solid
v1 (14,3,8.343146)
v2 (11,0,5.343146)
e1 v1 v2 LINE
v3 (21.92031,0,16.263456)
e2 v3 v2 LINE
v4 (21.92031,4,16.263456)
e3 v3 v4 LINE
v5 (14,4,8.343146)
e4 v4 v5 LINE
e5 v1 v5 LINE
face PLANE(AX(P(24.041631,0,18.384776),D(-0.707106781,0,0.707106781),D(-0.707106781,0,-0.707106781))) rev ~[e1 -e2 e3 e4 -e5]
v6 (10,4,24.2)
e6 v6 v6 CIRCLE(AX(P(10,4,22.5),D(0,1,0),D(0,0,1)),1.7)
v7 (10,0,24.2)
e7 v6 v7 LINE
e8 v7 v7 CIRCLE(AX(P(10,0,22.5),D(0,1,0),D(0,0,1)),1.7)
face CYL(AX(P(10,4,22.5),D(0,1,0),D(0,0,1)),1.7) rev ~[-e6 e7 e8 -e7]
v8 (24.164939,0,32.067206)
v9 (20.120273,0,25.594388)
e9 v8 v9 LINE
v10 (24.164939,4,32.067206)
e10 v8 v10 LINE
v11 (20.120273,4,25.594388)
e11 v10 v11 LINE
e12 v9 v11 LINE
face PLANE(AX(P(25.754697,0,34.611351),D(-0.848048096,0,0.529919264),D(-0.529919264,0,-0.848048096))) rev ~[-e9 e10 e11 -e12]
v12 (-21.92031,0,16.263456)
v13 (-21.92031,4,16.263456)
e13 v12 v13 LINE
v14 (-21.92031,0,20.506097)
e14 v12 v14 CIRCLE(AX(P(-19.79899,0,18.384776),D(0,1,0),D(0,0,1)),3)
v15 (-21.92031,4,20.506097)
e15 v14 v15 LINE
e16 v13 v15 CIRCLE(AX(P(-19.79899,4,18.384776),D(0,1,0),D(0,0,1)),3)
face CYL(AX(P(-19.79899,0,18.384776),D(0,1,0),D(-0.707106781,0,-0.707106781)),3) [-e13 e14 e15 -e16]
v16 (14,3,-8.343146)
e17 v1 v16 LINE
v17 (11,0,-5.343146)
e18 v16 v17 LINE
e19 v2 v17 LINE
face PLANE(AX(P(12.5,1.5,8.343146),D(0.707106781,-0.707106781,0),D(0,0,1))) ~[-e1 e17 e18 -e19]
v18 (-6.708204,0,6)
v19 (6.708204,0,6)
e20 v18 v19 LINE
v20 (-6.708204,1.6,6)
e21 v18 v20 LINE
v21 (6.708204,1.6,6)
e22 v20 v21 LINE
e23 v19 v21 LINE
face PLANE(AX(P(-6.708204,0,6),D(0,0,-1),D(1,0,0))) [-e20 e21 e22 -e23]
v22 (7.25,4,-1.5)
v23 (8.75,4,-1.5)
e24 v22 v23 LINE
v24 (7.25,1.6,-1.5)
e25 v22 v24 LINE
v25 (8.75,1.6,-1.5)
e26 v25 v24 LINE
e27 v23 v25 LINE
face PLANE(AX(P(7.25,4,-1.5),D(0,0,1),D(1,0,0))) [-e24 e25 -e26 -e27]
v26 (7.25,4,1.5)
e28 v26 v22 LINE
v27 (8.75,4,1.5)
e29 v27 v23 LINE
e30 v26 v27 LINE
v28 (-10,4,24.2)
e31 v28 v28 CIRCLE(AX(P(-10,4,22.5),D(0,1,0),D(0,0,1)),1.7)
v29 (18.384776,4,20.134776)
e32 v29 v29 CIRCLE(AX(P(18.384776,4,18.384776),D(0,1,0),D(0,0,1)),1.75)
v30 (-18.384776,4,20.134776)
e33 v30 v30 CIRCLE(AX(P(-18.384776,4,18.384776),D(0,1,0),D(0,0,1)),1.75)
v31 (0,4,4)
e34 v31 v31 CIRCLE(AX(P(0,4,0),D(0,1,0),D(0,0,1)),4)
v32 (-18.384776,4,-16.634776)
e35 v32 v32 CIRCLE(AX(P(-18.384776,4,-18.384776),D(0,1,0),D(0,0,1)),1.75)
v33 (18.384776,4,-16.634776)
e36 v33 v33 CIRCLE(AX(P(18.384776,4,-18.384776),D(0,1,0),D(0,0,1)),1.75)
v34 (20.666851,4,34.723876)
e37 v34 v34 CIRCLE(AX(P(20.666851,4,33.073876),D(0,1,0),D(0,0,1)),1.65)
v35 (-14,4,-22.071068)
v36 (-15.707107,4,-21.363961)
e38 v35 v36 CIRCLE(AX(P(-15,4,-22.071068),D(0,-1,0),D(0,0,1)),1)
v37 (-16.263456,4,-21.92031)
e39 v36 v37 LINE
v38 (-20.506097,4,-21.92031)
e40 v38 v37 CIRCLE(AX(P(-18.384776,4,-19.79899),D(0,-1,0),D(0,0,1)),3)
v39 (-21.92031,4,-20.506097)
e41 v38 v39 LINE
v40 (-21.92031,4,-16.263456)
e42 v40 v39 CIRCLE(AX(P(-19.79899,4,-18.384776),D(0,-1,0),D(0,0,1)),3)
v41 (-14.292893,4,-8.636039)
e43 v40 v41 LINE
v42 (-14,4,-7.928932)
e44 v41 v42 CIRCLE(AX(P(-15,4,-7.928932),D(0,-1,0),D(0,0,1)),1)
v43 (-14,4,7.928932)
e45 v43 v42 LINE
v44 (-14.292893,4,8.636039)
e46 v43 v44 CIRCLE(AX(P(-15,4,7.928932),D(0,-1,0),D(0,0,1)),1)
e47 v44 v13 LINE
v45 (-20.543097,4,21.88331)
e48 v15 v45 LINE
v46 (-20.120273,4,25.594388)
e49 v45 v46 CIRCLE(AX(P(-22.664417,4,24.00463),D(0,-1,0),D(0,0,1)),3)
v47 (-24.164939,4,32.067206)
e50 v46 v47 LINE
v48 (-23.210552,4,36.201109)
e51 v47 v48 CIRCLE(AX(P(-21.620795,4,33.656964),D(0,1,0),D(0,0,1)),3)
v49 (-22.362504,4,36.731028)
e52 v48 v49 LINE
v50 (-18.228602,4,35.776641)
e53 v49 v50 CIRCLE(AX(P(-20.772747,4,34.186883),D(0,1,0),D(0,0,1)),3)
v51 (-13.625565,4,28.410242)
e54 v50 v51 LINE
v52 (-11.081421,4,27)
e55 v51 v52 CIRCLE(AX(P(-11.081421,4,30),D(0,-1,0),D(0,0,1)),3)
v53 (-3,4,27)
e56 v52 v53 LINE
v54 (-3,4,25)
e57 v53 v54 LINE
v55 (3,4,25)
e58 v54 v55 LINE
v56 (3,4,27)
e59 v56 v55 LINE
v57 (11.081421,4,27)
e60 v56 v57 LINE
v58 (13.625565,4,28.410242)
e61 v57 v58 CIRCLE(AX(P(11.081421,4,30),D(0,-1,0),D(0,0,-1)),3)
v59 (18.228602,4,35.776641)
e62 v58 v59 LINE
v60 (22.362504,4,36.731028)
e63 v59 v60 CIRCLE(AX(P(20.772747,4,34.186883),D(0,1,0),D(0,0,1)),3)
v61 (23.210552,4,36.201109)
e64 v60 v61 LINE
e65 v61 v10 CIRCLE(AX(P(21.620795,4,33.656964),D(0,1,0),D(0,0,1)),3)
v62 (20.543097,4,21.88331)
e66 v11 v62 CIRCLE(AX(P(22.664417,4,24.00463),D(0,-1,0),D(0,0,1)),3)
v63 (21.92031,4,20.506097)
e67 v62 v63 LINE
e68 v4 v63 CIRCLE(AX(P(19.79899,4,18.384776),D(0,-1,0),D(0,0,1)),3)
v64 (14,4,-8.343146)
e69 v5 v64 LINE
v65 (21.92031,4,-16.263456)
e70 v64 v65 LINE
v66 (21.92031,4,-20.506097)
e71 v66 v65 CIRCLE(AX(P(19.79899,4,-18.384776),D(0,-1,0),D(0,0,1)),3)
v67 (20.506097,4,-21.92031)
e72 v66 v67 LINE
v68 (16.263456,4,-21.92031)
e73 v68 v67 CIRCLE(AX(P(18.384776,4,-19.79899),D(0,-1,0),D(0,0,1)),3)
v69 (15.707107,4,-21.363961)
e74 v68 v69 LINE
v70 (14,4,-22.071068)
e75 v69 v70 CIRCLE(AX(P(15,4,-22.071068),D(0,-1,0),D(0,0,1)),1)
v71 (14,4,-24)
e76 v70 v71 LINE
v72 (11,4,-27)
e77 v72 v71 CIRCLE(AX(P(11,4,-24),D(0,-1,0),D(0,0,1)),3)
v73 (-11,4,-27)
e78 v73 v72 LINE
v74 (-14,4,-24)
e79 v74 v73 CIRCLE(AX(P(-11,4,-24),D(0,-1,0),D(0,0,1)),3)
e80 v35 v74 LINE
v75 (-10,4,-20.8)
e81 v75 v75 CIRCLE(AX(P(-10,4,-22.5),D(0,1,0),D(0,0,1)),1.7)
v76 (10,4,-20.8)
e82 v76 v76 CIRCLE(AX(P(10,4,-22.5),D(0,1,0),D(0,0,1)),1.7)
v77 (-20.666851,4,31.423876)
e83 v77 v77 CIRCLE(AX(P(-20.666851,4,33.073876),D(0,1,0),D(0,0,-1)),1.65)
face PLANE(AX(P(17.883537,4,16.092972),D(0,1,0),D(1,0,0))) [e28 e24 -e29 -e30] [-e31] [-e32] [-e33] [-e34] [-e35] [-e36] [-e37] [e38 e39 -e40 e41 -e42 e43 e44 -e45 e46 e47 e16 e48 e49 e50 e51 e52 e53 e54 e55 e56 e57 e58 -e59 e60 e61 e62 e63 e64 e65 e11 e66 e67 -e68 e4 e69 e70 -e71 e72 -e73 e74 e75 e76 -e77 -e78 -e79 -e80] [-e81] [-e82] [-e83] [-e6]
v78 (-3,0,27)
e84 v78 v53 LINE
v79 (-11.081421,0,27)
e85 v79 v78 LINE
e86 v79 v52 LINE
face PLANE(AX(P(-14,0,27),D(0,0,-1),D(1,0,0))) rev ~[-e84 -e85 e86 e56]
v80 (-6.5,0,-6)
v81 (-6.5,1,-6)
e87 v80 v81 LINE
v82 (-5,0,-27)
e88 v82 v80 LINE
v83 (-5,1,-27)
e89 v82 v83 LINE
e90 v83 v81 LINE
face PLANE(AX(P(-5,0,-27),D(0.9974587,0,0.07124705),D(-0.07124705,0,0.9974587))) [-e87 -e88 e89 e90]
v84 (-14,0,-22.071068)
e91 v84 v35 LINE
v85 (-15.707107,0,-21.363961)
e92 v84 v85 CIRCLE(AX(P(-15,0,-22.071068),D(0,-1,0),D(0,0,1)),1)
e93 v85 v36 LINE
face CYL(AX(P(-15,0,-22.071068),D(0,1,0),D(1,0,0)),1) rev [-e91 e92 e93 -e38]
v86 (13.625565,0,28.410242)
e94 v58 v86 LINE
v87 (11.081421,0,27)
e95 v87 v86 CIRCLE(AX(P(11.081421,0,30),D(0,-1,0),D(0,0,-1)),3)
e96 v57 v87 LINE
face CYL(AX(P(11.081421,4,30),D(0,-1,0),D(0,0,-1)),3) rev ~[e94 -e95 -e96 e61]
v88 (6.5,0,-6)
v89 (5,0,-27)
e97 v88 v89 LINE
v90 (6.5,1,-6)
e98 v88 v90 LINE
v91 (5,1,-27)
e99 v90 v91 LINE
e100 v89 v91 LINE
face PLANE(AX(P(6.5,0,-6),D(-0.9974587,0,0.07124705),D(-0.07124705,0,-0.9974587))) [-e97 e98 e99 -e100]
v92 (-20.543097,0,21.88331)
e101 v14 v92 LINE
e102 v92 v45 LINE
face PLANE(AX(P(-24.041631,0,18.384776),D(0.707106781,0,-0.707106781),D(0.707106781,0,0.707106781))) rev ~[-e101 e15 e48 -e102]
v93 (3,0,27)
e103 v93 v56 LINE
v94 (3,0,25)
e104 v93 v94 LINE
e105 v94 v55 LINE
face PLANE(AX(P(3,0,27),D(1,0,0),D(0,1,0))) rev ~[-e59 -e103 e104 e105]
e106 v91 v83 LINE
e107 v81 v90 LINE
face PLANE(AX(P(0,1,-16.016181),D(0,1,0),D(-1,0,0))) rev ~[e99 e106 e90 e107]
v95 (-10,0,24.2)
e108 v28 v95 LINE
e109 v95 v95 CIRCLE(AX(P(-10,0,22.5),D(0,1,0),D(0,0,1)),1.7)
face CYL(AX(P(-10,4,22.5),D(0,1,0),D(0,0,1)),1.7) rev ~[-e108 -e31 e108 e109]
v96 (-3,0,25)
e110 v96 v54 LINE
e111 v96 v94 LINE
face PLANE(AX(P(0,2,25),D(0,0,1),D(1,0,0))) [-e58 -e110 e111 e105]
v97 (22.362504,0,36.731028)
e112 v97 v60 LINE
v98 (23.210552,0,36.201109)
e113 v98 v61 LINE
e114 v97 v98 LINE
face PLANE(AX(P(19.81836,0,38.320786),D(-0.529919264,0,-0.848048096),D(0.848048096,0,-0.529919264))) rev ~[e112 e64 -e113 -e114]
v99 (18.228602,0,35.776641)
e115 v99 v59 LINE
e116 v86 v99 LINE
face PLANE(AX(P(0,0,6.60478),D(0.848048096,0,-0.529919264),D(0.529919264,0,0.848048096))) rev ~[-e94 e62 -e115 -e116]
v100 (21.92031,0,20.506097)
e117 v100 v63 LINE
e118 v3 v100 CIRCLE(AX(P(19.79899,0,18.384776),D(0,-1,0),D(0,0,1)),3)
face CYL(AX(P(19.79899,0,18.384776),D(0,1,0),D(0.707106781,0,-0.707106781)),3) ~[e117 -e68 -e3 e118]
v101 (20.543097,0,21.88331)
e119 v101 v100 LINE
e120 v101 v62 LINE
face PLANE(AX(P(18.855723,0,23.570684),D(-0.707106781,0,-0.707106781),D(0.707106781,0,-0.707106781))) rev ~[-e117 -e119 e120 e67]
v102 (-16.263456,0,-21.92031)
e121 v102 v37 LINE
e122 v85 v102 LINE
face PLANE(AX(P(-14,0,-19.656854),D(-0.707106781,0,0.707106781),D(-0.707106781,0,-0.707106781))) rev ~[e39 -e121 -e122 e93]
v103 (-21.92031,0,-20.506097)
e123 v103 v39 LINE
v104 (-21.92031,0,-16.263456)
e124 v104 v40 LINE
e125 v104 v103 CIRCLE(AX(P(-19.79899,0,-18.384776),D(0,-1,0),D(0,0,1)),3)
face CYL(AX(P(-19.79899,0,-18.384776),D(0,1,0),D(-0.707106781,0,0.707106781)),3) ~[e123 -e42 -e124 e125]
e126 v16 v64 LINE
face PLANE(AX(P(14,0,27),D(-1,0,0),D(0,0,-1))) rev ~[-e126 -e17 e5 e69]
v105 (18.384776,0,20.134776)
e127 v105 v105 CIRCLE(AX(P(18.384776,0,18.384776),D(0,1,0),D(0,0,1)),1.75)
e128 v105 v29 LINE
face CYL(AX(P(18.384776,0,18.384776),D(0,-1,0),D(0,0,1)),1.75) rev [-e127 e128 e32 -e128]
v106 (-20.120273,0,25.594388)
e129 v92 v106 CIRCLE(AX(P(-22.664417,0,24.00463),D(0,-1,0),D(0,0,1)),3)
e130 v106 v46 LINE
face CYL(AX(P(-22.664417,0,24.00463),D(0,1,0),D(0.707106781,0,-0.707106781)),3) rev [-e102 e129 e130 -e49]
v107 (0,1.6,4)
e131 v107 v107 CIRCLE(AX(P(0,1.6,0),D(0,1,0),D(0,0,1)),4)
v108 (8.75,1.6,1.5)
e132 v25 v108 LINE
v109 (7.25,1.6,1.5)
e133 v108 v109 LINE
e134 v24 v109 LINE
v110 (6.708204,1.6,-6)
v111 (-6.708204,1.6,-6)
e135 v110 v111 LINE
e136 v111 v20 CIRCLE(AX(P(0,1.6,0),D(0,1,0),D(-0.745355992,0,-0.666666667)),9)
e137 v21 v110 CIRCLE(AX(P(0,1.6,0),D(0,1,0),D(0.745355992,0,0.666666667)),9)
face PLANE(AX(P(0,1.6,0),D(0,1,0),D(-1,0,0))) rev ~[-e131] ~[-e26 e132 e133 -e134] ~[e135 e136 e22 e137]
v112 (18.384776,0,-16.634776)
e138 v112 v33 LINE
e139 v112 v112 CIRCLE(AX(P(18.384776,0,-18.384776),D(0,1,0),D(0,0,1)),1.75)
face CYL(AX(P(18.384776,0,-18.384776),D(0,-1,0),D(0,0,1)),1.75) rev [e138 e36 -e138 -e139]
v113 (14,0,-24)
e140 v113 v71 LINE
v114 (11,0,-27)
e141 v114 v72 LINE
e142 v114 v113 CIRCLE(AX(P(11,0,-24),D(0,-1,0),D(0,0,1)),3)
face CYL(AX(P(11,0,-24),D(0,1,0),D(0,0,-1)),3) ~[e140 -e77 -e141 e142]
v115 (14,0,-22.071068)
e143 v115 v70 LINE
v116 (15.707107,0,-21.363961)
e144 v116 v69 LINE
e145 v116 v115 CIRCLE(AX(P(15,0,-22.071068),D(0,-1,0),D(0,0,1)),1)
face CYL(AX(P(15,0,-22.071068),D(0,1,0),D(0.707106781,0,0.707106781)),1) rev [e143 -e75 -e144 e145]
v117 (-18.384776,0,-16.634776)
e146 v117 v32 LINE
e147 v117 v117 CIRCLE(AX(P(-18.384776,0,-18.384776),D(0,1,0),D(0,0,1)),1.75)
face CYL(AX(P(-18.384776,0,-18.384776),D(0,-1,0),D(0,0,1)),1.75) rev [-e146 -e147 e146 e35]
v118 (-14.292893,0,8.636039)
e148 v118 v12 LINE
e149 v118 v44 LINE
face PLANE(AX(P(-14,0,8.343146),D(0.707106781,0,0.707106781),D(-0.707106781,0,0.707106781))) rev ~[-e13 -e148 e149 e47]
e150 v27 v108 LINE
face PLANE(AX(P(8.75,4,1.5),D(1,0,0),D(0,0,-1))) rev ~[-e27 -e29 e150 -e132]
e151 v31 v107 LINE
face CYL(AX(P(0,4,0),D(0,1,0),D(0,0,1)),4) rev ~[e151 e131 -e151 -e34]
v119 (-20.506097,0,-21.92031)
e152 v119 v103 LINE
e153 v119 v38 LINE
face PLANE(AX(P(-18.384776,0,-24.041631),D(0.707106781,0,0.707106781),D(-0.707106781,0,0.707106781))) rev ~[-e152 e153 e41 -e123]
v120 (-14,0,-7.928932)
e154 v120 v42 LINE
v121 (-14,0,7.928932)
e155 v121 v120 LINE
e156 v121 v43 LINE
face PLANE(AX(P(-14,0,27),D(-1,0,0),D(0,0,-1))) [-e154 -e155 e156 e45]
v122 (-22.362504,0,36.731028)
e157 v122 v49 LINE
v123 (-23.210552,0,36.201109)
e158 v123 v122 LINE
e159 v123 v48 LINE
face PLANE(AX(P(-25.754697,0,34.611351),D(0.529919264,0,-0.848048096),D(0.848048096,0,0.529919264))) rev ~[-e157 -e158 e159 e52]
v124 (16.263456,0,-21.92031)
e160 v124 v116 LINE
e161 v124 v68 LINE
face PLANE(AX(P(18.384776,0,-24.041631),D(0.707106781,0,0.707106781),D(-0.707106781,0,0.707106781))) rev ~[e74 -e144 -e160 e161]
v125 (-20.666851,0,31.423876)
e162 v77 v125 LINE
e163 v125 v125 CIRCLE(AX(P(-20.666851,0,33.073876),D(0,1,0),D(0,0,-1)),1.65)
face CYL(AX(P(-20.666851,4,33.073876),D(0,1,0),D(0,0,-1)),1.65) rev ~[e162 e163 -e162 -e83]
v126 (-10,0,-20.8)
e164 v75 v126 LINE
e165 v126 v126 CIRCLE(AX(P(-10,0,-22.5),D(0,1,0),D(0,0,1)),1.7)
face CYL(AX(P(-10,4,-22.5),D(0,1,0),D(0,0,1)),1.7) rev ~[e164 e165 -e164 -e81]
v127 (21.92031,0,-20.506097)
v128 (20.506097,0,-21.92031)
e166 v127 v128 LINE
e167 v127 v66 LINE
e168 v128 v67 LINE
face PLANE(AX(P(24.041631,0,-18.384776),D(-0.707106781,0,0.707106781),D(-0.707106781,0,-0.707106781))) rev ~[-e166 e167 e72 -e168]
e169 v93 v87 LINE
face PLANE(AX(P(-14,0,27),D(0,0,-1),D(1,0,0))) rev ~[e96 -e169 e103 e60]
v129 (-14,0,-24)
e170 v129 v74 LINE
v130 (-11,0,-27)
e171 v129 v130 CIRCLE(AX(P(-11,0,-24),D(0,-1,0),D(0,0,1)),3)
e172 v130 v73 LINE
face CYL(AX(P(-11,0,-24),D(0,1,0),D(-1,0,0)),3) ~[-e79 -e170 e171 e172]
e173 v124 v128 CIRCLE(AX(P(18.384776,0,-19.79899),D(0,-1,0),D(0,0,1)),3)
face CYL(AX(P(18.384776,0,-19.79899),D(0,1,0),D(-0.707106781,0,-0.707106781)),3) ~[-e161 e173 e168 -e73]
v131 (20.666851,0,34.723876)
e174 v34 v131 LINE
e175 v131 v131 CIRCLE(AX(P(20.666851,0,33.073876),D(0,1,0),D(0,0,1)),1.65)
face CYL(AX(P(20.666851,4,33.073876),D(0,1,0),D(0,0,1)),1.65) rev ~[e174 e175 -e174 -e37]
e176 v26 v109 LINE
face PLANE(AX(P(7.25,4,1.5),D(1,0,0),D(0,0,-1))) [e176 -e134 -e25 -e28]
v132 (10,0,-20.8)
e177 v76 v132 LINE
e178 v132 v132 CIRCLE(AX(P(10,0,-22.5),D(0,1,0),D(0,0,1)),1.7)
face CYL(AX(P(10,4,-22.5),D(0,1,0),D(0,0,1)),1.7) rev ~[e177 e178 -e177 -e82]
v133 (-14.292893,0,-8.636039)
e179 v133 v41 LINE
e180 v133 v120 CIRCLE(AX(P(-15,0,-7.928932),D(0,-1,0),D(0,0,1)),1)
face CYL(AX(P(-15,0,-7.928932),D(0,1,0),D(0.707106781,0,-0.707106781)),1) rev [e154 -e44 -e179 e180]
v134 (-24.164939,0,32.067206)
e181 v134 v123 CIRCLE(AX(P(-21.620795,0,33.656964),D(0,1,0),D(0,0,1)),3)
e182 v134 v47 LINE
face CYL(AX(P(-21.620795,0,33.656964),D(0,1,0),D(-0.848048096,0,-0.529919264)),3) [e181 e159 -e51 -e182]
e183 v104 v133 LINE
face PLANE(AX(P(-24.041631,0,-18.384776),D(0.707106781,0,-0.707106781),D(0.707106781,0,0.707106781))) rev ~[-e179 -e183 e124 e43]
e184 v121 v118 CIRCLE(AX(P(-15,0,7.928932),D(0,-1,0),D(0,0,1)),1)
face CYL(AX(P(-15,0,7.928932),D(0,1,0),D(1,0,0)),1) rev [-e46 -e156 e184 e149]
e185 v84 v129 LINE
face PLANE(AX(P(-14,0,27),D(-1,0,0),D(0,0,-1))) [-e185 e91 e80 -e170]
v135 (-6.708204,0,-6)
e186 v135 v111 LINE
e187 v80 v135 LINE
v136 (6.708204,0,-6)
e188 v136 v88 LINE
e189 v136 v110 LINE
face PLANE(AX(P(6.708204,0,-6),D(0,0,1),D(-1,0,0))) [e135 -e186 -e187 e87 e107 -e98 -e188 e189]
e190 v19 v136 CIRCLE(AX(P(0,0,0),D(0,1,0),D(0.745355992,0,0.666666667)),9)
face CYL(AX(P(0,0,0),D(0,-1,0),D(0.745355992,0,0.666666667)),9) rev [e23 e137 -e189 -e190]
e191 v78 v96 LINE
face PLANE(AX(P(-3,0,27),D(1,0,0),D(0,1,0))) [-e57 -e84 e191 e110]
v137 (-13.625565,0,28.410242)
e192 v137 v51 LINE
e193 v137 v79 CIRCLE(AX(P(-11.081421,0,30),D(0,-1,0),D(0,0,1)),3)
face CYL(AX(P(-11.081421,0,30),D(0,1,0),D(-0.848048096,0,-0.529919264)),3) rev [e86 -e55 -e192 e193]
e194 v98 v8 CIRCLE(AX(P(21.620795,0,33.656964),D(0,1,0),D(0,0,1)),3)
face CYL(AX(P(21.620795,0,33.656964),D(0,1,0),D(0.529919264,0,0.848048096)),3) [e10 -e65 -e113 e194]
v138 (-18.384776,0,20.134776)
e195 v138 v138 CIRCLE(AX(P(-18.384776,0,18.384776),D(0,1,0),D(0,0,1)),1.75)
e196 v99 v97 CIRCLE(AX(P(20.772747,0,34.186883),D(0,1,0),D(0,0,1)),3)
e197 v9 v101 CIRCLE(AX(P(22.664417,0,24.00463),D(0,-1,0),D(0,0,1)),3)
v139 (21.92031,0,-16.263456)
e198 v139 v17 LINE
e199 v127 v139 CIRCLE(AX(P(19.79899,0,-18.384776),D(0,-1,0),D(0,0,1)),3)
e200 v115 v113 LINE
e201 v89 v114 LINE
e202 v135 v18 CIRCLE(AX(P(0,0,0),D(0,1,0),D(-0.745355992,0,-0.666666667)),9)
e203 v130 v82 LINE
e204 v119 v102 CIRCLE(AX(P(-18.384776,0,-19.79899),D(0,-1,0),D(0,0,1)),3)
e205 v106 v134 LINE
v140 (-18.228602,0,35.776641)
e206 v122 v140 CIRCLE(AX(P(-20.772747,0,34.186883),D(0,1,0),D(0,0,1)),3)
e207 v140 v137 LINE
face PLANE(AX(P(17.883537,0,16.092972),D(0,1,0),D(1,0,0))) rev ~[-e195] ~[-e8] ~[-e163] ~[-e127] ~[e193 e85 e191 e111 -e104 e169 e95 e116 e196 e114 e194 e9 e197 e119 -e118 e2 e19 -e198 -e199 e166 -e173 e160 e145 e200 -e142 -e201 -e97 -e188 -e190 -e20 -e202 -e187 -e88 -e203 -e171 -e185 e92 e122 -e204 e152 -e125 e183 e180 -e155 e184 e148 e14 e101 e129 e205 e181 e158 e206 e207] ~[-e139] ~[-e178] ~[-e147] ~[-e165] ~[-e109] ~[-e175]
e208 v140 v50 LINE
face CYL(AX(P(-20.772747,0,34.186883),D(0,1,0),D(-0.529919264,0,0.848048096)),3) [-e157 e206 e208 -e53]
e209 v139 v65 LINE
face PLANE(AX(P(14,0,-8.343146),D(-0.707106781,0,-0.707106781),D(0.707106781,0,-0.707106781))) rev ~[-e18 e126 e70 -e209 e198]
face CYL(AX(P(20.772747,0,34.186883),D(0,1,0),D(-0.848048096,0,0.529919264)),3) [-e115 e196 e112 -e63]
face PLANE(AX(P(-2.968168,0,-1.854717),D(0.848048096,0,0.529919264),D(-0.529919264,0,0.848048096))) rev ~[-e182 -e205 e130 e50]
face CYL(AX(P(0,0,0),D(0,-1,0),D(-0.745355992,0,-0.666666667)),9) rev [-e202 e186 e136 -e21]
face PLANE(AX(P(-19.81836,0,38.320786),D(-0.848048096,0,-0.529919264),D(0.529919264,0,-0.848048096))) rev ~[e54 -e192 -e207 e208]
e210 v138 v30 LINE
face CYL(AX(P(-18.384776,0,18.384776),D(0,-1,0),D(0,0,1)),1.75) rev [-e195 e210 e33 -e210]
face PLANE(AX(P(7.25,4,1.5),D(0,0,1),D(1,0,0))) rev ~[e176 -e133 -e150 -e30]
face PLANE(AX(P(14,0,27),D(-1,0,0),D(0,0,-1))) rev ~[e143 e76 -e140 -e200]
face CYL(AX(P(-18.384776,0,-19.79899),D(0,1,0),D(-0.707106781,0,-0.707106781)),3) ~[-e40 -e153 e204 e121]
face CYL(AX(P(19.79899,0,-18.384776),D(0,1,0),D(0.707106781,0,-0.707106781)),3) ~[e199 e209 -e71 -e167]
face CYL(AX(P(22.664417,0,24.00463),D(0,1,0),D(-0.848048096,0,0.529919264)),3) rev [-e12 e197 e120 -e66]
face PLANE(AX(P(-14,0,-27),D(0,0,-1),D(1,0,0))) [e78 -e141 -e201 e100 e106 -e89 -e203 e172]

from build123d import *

# Parameters (mm, degrees)
SKETCH1_W           = 28
SKETCH1_H           = 54
BOSS_EXTRUDE1_DEPTH = 4
BOSS_EXTRUDE4_DEPTH = 4
SKETCH2_R           = 1.75
BOSS_EXTRUDE2_DEPTH = 4
SKETCH3_R           = 1.7
CUT_EXTRUDE1_DEPTH  = 4
CUT_EXTRUDE2_REACH  = 48.344
SKETCH4_R           = 4
SKETCH4_W           = 1.5
SKETCH4_H           = 3
CUT_EXTRUDE3_DEPTH  = 1.6
CHAMFER1_SIZE       = 3
FILLET1_R           = 3
FILLET2_R           = 1
SKETCH7_W           = 6
SKETCH7_H           = 4
CUT_EXTRUDE4_DEPTH  = 2
CUT_EXTRUDE5_DEPTH  = 1
CUT_EXTRUDE6_REACH  = 46.778
SKETCH9_R           = 1.65


with BuildPart() as part:
    # Sketch1 → Boss-Extrude1 (new body)
    with BuildSketch(Plane(origin=(0, 0, 0), x_dir=(1, 0, 0), z_dir=(0, 1, 0))):
        Rectangle(SKETCH1_W, SKETCH1_H)
    extrude(amount=BOSS_EXTRUDE1_DEPTH)

    # Sketch10 → Boss-Extrude4 (add)
    with BuildSketch(Plane(origin=(0, 0, 0), x_dir=(1, 0, 0), z_dir=(0, 1, 0))):
        Polygon((2.968168337, 1.854717425), (0, 0), (2.968168337, -1.854717425), (0, -6.604779702), (19.818360025, -38.32078556), (25.754696699, -34.61135071), align=None)
        Polygon((0, -6.604779702), (-2.968168337, -1.854717425), (0, 0), (-2.968168337, 1.854717425), (-25.754696699, -34.61135071), (-19.818360025, -38.32078556), align=None)
    extrude(amount=BOSS_EXTRUDE4_DEPTH)

    # Sketch2 → Boss-Extrude2 (add)
    # profile 1 of 4: a face of its own
    with BuildSketch(Plane(origin=(0, 0, 0), x_dir=(1, 0, 0), z_dir=(0, 1, 0))):
        Polygon((14, 19.656854249), (14, 8.343145751), (24.04163056, 18.384776311), (18.384776311, 24.04163056), align=None)
        with Locations(Location((18.384776311, 18.384776311, 0), (0, 0, 270))):
            Circle(SKETCH2_R, mode=Mode.SUBTRACT)
    # profile 2 of 4: a face of its own
    with BuildSketch(Plane(origin=(0, 0, 0), x_dir=(1, 0, 0), z_dir=(0, 1, 0))):
        Polygon((24.04163056, -18.384776311), (14, -8.343145751), (14, -15.799903705), (18.85572261, -23.570684261), align=None)
        with Locations(Location((18.384776311, -18.384776311, 0), (0, 0, 270))):
            Circle(SKETCH2_R, mode=Mode.SUBTRACT)
    # profile 3 of 4: a face of its own
    with BuildSketch(Plane(origin=(0, 0, 0), x_dir=(1, 0, 0), z_dir=(0, 1, 0))):
        Polygon((-24.04163056, -18.384776311), (-18.85572261, -23.570684261), (-14, -15.799903705), (-14, -8.343145751), align=None)
        with Locations(Location((-18.384776311, -18.384776311, 0), (0, 0, 270))):
            Circle(SKETCH2_R, mode=Mode.SUBTRACT)
    # profile 4 of 4: a face of its own
    with BuildSketch(Plane(origin=(0, 0, 0), x_dir=(1, 0, 0), z_dir=(0, 1, 0))):
        Polygon((-14, 8.343145751), (-14, 19.656854249), (-18.384776311, 24.04163056), (-24.04163056, 18.384776311), align=None)
        with Locations(Location((-18.384776311, 18.384776311, 0), (0, 0, 270))):
            Circle(SKETCH2_R, mode=Mode.SUBTRACT)
    extrude(amount=BOSS_EXTRUDE2_DEPTH)

    # Sketch3 → Cut-Extrude1 (cut)
    with BuildSketch(Plane(origin=(0, 4, 0), x_dir=(1, 0, 0), z_dir=(0, 1, 0))):
        with Locations(Location((10, -22.5, 0), (0, 0, 270))):
            Circle(SKETCH3_R)
        with Locations(Location((-10, -22.5, 0), (0, 0, 270))):
            Circle(SKETCH3_R)
        with Locations(Location((-10, 22.5, 0), (0, 0, 270))):
            Circle(SKETCH3_R)
        with Locations(Location((10, 22.5, 0), (0, 0, 270))):
            Circle(SKETCH3_R)
    extrude(amount=-CUT_EXTRUDE1_DEPTH, mode=Mode.SUBTRACT)

    # Sketch4 → Cut-Extrude2 (cut, up to next)
    with BuildSketch(Plane(origin=(0, 4, 0), x_dir=(1, 0, 0), z_dir=(0, 1, 0)), mode=Mode.PRIVATE) as cut_extrude2_sk1:
        with Locations(Location((0, 0, 0), (0, 0, 270))):
            Circle(SKETCH4_R)
    cut_extrude2_tool1 = extrude(cut_extrude2_sk1.sketch, amount=-CUT_EXTRUDE2_REACH, mode=Mode.PRIVATE) & part.part
    # Sketch4 → Cut-Extrude2 (cut, up to next)
    with BuildSketch(Plane(origin=(0, 4, 0), x_dir=(1, 0, 0), z_dir=(0, 1, 0)), mode=Mode.PRIVATE) as cut_extrude2_sk2:
        with Locations((8, 0)):
            Rectangle(SKETCH4_W, SKETCH4_H)
    cut_extrude2_tool2 = extrude(cut_extrude2_sk2.sketch, amount=-CUT_EXTRUDE2_REACH, mode=Mode.PRIVATE) & part.part
    add(cut_extrude2_tool1.solids().sort_by_distance((0, 4, 0))[0], mode=Mode.SUBTRACT)
    add(cut_extrude2_tool2.solids().sort_by_distance((8, 4, 0))[0], mode=Mode.SUBTRACT)

    # Sketch5 → Cut-Extrude3 (cut)
    with BuildSketch(Plane.XZ):
        with BuildLine():
            Line((6.708203932, -6), (-6.708203932, -6))
            ThreePointArc((-6.708203932, -6), (-9, 0), (-6.708203932, 6))
            Line((-6.708203932, 6), (6.708203932, 6))
            ThreePointArc((6.708203932, 6), (9, 0), (6.708203932, -6))
        make_face()
    extrude(amount=-CUT_EXTRUDE3_DEPTH, mode=Mode.SUBTRACT)

    # Chamfer1
    chamfer1_edges = [part.edges().sort_by_distance(p)[0] for p in [
        (14, 0, 0),
    ]]
    chamfer(chamfer1_edges, length=CHAMFER1_SIZE)

    # Fillet1
    fillet1_edges = [part.edges().sort_by_distance(p)[0] for p in [
        (18.384776311, 2, -24.04163056),
        (24.04163056, 2, -18.384776311),
        (18.85572261, 2, 23.570684261),
        (24.04163056, 2, 18.384776311),
        (-18.85572261, 2, 23.570684261),
        (-24.04163056, 2, 18.384776311),
        (12.74434809, 2, 27),
        (25.754696699, 2, 34.61135071),
        (19.818360025, 2, 38.32078556),
        (-19.818360025, 2, 38.32078556),
        (-25.754696699, 2, 34.61135071),
        (-12.74434809, 2, 27),
        (-14, 2, -27),
        (-24.04163056, 2, -18.384776311),
        (14, 2, -27),
        (-18.384776311, 2, -24.04163056),
    ]]
    fillet(fillet1_edges, radius=FILLET1_R)

    # Fillet2
    fillet2_edges = [part.edges().sort_by_distance(p)[0] for p in [
        (14, 2, -19.656854249),
        (-14, 2, 8.343145751),
        (-14, 2, -19.656854249),
        (-14, 2, -8.343145751),
    ]]
    fillet(fillet2_edges, radius=FILLET2_R)

    # Sketch7 → Cut-Extrude4 (cut)
    with BuildSketch(Plane.XY.offset(27)):
        with Locations((0, 2)):
            Rectangle(SKETCH7_W, SKETCH7_H)
    extrude(amount=-CUT_EXTRUDE4_DEPTH, mode=Mode.SUBTRACT)

    # Sketch8 → Cut-Extrude5 (cut)
    with BuildSketch(Plane(origin=(0, 0, 0), x_dir=(-1, 0, 0), z_dir=(0, 1, 0))):
        Polygon((-5, -27), (5, -27), (6.5, -6), (-6.5, -6), align=None)
    extrude(amount=CUT_EXTRUDE5_DEPTH, mode=Mode.SUBTRACT)

    # Sketch9 → Cut-Extrude6 (cut, up to next)
    with BuildSketch(Plane(origin=(0, 4, 0), x_dir=(1, 0, 0), z_dir=(0, 1, 0)), mode=Mode.PRIVATE) as cut_extrude6_sk1:
        with Locations(Location((20.666851305, -33.07387575, 0), (0, 0, 270))):
            Circle(SKETCH9_R)
    cut_extrude6_tool1 = extrude(cut_extrude6_sk1.sketch, amount=-CUT_EXTRUDE6_REACH, mode=Mode.PRIVATE) & part.part
    # Sketch9 → Cut-Extrude6 (cut, up to next)
    with BuildSketch(Plane(origin=(0, 4, 0), x_dir=(1, 0, 0), z_dir=(0, 1, 0)), mode=Mode.PRIVATE) as cut_extrude6_sk2:
        with Locations(Location((-20.666851305, -33.07387575, 0), (0, 0, 90))):
            Circle(SKETCH9_R)
    cut_extrude6_tool2 = extrude(cut_extrude6_sk2.sketch, amount=-CUT_EXTRUDE6_REACH, mode=Mode.PRIVATE) & part.part
    add(cut_extrude6_tool1.solids().sort_by_distance((20.666851, 4, 33.073876))[0], mode=Mode.SUBTRACT)
    add(cut_extrude6_tool2.solids().sort_by_distance((-20.666851, 4, 33.073876))[0], mode=Mode.SUBTRACT)


solid = part.part
